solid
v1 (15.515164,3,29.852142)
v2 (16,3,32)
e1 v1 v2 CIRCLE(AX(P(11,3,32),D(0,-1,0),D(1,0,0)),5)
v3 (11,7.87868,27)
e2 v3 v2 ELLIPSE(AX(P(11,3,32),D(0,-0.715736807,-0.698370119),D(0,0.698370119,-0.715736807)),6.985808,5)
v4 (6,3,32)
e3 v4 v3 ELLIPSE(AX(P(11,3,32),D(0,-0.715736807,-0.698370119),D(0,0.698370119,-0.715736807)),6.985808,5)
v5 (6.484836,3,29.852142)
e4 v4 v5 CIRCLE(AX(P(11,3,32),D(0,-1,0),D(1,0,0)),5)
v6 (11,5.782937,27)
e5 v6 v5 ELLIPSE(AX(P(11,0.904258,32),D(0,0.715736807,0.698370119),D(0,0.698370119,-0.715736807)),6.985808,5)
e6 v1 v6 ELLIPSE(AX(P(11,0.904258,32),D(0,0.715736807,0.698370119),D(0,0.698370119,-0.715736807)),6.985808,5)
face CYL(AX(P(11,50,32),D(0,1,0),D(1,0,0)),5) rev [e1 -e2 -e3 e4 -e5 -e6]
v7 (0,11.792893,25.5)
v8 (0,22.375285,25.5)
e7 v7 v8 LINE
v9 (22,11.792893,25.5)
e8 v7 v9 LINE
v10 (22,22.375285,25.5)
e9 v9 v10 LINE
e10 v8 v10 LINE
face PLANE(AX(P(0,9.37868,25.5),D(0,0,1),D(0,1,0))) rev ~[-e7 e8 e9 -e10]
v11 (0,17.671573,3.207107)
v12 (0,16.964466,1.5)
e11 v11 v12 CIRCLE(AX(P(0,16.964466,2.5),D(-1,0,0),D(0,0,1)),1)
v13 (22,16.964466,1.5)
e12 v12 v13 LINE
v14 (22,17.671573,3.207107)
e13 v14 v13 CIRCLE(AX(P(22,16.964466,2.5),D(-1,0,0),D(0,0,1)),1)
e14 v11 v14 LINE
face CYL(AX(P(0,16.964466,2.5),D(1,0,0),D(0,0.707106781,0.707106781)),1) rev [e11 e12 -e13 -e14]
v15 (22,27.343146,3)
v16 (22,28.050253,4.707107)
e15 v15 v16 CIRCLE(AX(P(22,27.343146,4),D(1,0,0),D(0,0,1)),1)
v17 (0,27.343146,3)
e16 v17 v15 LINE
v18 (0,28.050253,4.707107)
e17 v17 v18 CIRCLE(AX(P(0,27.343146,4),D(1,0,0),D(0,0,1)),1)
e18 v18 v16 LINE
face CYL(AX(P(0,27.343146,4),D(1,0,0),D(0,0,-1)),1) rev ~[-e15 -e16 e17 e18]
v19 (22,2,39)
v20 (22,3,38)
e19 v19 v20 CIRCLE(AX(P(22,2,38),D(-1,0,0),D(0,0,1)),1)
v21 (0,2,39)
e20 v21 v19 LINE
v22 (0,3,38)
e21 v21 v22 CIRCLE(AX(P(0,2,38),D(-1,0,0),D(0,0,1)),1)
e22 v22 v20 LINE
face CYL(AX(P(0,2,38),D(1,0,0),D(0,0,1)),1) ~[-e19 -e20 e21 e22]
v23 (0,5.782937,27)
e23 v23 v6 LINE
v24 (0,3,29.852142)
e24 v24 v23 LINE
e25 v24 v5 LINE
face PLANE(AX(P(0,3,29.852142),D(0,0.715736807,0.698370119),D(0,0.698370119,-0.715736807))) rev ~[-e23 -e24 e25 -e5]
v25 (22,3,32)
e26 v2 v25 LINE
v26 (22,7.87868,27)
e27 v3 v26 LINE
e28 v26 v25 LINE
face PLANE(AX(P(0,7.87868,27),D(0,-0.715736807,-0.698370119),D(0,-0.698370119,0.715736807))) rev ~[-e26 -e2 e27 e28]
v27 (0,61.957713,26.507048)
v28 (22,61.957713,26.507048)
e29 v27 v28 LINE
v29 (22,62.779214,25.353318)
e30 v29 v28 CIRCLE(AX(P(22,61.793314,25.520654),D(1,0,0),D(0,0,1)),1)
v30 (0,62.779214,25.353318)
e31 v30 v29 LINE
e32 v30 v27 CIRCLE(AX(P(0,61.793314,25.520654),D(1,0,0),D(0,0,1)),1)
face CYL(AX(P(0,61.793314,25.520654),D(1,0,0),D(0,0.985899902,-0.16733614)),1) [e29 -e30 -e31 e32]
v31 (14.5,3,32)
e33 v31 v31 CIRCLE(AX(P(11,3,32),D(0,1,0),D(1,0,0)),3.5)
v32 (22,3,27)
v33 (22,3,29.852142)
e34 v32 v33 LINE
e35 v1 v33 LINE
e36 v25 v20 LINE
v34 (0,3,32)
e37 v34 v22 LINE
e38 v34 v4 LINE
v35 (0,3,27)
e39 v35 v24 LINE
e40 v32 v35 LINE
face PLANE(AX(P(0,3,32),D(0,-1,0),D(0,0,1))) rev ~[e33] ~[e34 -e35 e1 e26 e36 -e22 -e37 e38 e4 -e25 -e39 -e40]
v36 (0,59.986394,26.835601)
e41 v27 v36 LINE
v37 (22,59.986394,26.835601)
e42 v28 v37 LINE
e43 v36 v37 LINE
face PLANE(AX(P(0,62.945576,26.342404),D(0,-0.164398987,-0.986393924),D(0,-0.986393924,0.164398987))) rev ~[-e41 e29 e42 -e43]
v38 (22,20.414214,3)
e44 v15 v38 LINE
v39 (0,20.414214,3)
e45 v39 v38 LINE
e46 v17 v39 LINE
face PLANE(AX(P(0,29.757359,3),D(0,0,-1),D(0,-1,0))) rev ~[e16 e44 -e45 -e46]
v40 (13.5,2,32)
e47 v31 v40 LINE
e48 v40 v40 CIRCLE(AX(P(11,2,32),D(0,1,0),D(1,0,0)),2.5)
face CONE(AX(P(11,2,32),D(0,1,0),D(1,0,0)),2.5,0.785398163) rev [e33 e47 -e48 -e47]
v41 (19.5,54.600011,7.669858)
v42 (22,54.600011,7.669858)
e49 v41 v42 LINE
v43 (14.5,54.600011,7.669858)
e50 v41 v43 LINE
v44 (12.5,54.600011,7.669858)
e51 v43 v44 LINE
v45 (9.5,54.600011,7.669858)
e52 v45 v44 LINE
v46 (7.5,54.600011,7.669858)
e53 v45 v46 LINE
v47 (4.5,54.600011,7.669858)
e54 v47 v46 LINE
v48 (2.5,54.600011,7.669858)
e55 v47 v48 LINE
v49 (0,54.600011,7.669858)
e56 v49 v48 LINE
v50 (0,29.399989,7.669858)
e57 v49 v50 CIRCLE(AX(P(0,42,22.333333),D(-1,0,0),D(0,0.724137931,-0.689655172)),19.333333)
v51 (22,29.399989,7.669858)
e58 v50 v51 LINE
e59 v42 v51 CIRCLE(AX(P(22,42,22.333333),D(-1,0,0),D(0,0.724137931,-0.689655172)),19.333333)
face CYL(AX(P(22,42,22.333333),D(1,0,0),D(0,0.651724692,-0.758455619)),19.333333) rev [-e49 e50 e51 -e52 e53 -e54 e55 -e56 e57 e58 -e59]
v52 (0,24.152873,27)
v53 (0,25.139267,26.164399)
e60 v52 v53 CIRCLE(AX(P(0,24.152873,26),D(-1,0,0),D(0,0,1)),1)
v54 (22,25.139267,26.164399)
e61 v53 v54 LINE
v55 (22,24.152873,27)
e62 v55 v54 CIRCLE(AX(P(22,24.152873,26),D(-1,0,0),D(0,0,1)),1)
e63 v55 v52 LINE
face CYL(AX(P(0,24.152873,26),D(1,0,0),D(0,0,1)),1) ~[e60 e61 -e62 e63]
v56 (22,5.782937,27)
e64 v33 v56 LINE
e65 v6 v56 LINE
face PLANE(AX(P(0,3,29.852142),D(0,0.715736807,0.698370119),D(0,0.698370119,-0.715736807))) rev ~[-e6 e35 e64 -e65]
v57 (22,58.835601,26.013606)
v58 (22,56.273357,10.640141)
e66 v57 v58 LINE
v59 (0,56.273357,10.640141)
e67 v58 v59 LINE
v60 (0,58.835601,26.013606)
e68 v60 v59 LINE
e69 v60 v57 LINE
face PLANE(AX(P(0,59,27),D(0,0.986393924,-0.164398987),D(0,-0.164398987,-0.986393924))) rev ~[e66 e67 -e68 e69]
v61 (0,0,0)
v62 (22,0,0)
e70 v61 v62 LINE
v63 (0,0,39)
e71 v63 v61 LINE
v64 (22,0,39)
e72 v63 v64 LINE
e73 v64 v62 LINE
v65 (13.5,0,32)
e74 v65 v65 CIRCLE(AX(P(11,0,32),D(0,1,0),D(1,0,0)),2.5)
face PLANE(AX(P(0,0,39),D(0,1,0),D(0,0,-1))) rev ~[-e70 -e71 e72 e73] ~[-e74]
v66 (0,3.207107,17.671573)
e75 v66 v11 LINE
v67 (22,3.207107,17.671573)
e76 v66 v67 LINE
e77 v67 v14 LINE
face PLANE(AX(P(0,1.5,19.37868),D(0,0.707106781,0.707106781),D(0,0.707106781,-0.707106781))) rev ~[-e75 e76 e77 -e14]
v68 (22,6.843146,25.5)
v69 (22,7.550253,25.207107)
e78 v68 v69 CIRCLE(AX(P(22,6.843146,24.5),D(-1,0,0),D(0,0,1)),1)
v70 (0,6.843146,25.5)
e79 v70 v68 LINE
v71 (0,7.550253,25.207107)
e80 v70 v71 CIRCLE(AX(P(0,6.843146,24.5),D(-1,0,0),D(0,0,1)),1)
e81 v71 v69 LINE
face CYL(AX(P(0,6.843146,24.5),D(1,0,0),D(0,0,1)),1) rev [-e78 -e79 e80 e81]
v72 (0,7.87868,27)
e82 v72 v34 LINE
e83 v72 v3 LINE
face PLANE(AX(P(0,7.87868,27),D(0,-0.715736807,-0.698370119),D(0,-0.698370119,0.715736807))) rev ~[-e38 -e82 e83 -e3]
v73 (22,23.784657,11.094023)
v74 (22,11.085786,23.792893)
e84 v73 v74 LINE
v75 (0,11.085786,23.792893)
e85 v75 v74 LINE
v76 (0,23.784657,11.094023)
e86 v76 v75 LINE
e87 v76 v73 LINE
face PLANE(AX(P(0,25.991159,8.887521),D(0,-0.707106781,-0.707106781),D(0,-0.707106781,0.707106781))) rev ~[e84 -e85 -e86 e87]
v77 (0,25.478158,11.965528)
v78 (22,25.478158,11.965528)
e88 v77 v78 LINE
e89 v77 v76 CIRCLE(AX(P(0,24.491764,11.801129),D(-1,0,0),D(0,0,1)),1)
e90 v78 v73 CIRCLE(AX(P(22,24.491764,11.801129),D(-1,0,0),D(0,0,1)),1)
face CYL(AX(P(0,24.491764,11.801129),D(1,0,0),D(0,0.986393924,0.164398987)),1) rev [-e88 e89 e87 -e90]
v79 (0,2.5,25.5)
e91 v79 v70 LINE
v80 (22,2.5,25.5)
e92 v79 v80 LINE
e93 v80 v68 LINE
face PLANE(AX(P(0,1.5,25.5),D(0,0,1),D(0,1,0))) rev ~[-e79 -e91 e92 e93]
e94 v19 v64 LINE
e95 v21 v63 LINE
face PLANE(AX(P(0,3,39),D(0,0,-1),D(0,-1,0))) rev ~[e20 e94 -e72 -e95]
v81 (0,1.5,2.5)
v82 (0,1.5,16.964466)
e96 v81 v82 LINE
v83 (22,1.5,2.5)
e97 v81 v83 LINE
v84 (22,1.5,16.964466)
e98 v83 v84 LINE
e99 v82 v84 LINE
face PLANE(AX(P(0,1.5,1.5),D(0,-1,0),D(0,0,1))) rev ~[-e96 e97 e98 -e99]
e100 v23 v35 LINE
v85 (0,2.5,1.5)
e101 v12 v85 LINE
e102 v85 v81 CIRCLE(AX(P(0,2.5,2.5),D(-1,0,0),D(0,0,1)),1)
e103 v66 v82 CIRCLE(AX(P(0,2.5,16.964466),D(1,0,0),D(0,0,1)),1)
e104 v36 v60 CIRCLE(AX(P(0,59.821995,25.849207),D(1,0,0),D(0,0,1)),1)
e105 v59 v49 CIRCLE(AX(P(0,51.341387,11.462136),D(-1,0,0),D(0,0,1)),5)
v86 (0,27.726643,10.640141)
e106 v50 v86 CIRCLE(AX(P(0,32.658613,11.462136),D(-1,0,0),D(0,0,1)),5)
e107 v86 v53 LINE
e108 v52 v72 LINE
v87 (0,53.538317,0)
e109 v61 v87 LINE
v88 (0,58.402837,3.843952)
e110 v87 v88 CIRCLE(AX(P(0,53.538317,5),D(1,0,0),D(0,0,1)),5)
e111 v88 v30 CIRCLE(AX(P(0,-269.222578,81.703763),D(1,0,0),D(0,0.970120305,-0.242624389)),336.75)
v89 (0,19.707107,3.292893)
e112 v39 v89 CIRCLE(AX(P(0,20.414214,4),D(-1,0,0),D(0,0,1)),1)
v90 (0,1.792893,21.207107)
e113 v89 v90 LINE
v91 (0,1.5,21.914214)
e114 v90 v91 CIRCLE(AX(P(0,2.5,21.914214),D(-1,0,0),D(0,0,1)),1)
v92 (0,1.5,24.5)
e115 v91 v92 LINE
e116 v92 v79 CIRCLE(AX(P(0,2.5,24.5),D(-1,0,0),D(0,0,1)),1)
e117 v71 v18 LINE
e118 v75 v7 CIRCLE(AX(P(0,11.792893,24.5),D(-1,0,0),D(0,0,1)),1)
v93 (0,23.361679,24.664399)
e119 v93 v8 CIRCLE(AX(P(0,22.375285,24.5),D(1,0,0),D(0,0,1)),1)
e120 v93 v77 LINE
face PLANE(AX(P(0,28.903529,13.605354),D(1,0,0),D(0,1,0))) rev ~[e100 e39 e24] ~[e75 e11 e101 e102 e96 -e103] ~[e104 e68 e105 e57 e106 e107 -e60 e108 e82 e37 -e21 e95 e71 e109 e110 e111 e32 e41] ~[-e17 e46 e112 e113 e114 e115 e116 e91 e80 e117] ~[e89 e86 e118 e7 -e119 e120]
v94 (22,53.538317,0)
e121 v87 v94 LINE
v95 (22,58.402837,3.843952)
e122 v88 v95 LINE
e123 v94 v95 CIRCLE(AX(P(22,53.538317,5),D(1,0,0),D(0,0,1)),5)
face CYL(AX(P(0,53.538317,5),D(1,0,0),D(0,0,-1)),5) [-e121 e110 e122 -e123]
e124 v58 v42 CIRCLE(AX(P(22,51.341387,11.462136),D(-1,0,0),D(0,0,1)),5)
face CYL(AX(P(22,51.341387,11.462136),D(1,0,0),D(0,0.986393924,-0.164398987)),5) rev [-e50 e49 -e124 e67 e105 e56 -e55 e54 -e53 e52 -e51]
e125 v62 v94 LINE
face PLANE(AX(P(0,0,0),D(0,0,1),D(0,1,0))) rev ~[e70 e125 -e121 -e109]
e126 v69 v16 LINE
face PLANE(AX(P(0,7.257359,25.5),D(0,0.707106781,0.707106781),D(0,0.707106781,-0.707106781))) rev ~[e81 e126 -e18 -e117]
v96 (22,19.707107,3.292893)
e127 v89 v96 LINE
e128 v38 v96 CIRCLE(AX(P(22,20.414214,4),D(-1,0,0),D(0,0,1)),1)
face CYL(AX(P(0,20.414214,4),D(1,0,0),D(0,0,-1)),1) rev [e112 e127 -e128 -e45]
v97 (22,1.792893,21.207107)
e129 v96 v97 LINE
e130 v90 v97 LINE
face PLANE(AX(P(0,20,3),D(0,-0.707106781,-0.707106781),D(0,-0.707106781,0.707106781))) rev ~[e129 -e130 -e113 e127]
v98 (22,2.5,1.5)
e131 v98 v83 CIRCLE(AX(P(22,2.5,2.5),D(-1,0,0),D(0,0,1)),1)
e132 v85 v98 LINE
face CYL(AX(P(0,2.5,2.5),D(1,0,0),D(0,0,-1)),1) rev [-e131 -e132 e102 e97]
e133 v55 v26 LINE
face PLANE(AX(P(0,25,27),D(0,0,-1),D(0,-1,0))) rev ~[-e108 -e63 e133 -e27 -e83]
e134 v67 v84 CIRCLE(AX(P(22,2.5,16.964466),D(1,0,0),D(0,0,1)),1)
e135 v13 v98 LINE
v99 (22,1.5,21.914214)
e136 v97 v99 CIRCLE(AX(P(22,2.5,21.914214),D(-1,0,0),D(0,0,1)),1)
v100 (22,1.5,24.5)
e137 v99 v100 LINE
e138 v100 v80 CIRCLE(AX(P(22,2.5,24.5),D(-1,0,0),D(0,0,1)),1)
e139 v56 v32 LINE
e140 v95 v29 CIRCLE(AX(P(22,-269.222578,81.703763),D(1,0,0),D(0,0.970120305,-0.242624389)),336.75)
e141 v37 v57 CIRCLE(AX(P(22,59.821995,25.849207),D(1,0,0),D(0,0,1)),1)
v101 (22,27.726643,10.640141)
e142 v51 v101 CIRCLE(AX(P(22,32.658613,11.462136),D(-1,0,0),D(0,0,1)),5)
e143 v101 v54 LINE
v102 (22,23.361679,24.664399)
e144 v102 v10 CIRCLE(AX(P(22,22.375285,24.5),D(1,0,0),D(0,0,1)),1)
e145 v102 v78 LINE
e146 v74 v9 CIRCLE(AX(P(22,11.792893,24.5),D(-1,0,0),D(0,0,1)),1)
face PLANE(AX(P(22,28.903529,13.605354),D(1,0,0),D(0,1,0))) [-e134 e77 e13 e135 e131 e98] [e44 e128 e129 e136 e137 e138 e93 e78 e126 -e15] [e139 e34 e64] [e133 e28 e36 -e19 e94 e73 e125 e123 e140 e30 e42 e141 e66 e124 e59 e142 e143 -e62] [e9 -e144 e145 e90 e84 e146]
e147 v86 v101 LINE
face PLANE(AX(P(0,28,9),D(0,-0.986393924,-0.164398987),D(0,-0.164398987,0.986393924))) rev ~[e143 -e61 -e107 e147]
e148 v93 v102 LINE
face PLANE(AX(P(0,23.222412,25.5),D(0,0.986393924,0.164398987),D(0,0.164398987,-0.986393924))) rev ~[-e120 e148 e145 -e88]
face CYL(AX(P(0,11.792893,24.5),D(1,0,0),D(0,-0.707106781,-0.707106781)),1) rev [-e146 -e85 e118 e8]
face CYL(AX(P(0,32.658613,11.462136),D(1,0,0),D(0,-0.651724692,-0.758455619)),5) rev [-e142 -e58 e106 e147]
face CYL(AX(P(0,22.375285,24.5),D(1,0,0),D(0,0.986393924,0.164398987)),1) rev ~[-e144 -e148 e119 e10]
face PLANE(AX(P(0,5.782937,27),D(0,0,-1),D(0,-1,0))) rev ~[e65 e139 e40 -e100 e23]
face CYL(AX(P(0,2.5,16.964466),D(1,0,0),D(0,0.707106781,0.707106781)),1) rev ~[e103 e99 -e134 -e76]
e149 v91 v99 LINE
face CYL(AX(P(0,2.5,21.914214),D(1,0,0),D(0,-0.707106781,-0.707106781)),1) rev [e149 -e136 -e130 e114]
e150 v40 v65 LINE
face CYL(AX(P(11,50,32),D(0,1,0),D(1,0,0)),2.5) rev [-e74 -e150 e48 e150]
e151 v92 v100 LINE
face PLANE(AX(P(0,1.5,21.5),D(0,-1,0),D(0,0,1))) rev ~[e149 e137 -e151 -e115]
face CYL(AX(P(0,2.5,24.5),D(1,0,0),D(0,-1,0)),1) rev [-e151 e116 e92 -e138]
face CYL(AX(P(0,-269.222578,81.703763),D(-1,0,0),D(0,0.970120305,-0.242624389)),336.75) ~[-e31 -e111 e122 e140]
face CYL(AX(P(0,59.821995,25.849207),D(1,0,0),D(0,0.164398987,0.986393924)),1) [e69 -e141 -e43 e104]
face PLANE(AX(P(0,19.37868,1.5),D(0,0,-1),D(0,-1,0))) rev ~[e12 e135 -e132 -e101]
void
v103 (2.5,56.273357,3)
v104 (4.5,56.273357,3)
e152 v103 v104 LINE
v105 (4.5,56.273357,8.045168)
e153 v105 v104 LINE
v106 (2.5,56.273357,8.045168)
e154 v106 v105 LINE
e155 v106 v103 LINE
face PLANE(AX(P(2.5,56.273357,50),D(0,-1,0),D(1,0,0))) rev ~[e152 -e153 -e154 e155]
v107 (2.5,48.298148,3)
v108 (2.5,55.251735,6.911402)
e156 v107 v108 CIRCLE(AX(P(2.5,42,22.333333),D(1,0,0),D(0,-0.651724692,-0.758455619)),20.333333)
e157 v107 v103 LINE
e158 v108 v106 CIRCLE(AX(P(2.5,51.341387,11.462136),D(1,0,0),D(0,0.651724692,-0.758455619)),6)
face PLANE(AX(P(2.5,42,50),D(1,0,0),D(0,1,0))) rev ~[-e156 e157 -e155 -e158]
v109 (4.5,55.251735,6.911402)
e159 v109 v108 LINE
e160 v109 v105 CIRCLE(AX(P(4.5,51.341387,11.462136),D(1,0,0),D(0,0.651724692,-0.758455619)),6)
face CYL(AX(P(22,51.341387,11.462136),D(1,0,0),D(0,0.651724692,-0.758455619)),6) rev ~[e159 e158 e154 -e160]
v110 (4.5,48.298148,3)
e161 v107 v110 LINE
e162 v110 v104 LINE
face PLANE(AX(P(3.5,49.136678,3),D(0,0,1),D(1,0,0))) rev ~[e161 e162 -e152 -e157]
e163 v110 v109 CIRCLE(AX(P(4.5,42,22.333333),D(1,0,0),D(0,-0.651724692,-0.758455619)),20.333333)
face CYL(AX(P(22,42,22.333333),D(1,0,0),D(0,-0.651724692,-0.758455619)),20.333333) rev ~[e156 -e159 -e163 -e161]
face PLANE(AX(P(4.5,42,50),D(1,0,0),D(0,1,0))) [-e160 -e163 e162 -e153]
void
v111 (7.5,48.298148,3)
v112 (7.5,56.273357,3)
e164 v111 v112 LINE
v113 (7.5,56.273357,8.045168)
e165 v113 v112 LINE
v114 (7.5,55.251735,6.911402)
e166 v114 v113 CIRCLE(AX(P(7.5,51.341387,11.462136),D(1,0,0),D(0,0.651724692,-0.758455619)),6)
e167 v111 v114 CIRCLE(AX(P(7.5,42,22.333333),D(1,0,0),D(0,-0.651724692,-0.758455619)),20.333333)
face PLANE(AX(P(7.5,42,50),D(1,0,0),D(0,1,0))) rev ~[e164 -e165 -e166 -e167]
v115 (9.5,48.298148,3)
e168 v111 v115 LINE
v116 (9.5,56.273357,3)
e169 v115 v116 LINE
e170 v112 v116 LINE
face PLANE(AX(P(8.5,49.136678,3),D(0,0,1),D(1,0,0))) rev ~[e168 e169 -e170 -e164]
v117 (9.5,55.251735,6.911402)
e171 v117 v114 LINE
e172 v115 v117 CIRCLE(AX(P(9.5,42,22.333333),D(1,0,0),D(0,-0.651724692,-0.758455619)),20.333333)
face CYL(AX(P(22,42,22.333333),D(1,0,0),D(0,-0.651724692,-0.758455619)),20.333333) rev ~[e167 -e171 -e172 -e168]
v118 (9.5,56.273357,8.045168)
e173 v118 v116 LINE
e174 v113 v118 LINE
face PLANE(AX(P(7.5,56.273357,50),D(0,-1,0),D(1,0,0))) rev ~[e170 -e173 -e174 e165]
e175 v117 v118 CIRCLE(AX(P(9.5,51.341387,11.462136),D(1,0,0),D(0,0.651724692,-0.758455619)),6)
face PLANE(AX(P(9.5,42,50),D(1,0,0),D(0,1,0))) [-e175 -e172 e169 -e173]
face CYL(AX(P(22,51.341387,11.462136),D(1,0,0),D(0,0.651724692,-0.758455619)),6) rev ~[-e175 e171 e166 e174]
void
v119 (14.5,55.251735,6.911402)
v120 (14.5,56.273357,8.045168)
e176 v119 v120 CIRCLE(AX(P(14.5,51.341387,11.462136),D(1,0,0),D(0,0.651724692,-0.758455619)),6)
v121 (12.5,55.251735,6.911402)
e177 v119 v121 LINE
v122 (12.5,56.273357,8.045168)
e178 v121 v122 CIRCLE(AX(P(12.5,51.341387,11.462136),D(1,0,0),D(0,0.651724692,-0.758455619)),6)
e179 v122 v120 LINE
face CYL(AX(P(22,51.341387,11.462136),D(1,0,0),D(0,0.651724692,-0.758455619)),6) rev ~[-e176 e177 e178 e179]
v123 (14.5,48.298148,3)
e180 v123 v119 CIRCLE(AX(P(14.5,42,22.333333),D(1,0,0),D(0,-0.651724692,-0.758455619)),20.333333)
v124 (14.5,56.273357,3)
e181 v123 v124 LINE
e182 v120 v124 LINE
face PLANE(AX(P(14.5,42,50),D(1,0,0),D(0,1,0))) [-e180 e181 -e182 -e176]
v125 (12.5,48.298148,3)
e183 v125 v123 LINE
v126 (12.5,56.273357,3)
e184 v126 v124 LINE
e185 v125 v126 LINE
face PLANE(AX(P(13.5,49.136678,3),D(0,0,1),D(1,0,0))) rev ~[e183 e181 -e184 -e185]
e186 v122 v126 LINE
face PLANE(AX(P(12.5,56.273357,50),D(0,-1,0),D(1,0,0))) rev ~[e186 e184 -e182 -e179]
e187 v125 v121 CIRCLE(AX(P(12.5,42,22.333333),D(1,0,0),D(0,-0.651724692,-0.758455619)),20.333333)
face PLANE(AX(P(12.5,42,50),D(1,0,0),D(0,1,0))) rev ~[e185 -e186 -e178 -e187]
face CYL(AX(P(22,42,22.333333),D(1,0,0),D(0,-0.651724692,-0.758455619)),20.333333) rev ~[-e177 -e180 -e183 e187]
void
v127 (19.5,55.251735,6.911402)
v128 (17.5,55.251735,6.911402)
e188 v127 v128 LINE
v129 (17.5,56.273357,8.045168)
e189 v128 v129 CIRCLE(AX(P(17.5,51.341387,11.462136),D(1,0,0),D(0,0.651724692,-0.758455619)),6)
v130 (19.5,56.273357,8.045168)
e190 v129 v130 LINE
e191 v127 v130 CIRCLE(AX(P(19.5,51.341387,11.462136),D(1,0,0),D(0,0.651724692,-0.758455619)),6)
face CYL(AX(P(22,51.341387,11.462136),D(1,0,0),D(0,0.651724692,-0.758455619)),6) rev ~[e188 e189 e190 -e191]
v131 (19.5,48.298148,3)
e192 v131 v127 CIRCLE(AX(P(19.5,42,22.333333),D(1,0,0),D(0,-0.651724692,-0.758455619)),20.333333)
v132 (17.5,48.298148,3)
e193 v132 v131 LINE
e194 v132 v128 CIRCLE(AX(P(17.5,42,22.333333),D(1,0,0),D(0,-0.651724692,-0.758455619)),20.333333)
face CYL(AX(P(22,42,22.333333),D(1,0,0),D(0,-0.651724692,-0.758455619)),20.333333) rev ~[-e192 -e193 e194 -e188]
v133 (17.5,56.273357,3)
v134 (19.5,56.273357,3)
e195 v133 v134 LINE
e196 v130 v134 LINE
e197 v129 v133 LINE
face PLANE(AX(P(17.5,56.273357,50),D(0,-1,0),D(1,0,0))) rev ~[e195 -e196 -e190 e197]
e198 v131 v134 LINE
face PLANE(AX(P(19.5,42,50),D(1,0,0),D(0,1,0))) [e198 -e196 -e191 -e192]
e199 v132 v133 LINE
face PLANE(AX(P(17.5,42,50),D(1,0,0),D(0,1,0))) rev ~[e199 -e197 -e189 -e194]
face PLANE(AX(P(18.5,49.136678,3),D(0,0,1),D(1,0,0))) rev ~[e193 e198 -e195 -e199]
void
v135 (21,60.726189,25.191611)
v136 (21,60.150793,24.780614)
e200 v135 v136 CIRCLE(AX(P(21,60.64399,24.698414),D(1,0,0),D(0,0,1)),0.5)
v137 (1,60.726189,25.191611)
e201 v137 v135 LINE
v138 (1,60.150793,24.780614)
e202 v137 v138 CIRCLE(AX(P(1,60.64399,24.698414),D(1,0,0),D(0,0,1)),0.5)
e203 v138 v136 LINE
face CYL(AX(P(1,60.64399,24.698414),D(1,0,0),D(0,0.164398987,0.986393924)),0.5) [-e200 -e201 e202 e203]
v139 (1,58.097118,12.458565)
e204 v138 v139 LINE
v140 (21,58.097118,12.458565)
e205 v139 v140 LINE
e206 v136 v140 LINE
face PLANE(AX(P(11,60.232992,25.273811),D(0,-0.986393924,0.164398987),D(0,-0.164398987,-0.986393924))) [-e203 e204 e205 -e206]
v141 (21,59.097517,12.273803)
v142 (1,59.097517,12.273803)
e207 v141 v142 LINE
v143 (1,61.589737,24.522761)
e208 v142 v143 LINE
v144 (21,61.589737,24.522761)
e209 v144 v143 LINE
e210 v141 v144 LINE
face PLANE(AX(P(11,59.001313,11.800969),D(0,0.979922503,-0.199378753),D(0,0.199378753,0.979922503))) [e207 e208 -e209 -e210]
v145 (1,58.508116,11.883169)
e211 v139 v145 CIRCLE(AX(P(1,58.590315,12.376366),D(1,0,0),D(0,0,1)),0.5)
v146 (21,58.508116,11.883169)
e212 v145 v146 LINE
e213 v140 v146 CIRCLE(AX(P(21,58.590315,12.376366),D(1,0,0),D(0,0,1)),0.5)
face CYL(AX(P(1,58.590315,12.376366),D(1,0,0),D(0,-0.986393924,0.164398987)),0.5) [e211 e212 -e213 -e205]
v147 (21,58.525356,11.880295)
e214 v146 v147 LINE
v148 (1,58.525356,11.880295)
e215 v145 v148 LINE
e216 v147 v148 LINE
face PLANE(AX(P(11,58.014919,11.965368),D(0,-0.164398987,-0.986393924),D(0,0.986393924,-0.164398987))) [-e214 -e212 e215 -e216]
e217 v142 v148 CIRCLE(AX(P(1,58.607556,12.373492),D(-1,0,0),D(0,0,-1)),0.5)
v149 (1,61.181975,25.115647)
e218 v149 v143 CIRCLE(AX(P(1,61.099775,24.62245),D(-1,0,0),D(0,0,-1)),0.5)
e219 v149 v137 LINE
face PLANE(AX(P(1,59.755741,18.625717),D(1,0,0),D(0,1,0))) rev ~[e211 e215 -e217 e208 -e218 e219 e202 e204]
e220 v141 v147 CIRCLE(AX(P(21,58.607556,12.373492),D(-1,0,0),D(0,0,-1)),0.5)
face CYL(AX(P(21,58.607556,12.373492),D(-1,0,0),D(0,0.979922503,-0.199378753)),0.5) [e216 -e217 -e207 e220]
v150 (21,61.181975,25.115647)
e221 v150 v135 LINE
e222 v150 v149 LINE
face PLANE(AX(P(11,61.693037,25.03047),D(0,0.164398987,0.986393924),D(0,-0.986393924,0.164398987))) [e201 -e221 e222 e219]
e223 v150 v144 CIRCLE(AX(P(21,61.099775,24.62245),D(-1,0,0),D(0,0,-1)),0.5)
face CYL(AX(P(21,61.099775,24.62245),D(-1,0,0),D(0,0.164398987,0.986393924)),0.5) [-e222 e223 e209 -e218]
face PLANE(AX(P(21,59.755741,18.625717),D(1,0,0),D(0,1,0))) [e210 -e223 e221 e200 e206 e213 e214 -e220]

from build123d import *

# Parameters (mm, degrees)
F1_DEPTH  = 22
F2_R      = 5
F3_R      = 1
F4_R      = 1
F6_R      = 5
F7_DEPTH  = 47
F8_R      = 2.5
F9_DEPTH  = 50.001
F10_SIZE  = 1
F12_W     = 2
F12_H     = 14.2733568645
F13_DEPTH = 47
F16_DEPTH = 10
F17_R     = 0.5
F19_DEPTH = 22


with BuildPart() as f1:
    # F0 (on Right) → F1 (new body)
    with BuildSketch(Plane.YZ):
        with BuildLine():
            Line((3, 32), (3, 39))
            Line((3, 39), (0, 39))
            Line((0, 39), (0, 0))
            Line((0, 0), (57.4654344921, 0))
            ThreePointArc((57.4654344921, 0), (60.4687056177, 13.1164471126), (62.9455756953, 26.3424040508))
            Line((62.9455756953, 26.3424040508), (59, 27))
            Line((59, 27), (56, 9))
            ThreePointArc((56, 9), (42, 3), (28, 9))
            Line((28, 9), (25, 27))
            Line((25, 27), (7.8786796564, 27))
            Line((7.8786796564, 27), (5.7829372183, 27))
            Line((5.7829372183, 27), (3, 27))
            Line((3, 27), (3, 29.8521417825))
            Line((3, 29.8521417825), (3, 32))
        make_face()
        Polygon((19.3786796564, 1.5), (1.5, 1.5), (1.5, 19.3786796564), align=None, mode=Mode.SUBTRACT)
        Polygon((20, 3), (1.5, 21.5), (1.5, 25.5), (7.2573593129, 25.5), (29.7573593129, 3), align=None, mode=Mode.SUBTRACT)
        Polygon((25.9911590566, 8.8875205998), (9.3786796564, 25.5), (23.2224124899, 25.5), align=None, mode=Mode.SUBTRACT)
        Polygon((7.8786796564, 27), (3, 32), (3, 29.8521417825), (5.7829372183, 27), align=None)
    extrude(amount=F1_DEPTH)

    # F2
    f2_edges = [f1.edges().sort_by_distance(p)[0] for p in [
        (11, 57.465434, 0),
        (11, 56, 9),
        (11, 28, 9),
    ]]
    fillet(f2_edges, radius=F2_R)

    # F3
    f3_edges = [f1.edges().sort_by_distance(p)[0] for p in [
        (11, 59, 27),
        (11, 62.945576, 26.342404),
        (11, 3, 39),
        (11, 25, 27),
        (11, 23.222412, 25.5),
    ]]
    fillet(f3_edges, radius=F3_R)

    # F4
    f4_edges = [f1.edges().sort_by_distance(p)[0] for p in [
        (11, 1.5, 1.5),
        (11, 19.37868, 1.5),
        (11, 20, 3),
        (11, 1.5, 21.5),
        (11, 1.5, 19.37868),
        (11, 7.257359, 25.5),
        (11, 9.37868, 25.5),
        (11, 29.757359, 3),
        (11, 1.5, 25.5),
        (11, 25.991159, 8.887521),
    ]]
    fillet(f4_edges, radius=F4_R)

    # F6 (on offset) → F7 (cut, through all)
    with BuildSketch(Plane.XZ.offset(-50)):
        with Locations((11, 32)):
            Circle(F6_R)
    extrude(amount=F7_DEPTH, mode=Mode.SUBTRACT)

    # F8 (on offset) → F9 (cut, through all)
    with BuildSketch(Plane.XZ.offset(-50)):
        with Locations((11, 32)):
            Circle(F8_R)
    extrude(amount=F9_DEPTH, mode=Mode.SUBTRACT)

    # F10
    f10_edges = [f1.edges().sort_by_distance(p)[0] for p in [
        (8.5, 3, 32),
    ]]
    chamfer(f10_edges, length=F10_SIZE)

    # F12 (on offset) → F13 (cut)
    with BuildSketch(Plane.XY.offset(50)):
        with Locations((3.5, 49.1366784322)):
            Rectangle(F12_W, F12_H)
        with Locations((8.5, 49.1366784322)):
            Rectangle(F12_W, F12_H)
        with Locations((13.5, 49.1366784322)):
            Rectangle(F12_W, F12_H)
        with Locations((18.5, 49.1366784322)):
            Rectangle(F12_W, F12_H)
    extrude(amount=-F13_DEPTH, mode=Mode.SUBTRACT)

    # F15 (on offset) → F16 (cut, symmetric)
    with BuildSketch(Plane.YZ.offset(11)):
        Polygon((61.6930370138, 25.0304698651), (60.2329924048, 25.2738106333), (58.0149187036, 11.9653684263), (59.0013126275, 11.800969439), align=None)
    extrude(amount=F16_DEPTH, both=True, mode=Mode.SUBTRACT)

    # F17
    f17_edges = [f1.edges().sort_by_distance(p)[0] for p in [
        (11, 59.001313, 11.800969),
        (11, 60.232992, 25.273811),
        (11, 61.693037, 25.03047),
        (11, 58.014919, 11.965368),
    ]]
    fillet(f17_edges, radius=F17_R)

    # F18 (on face) → F19 (join, through all)
    with BuildSketch(Plane.YZ.offset(22)):
        with BuildLine():
            ThreePointArc((54.600010703, 7.6698580269), (42, 3), (29.399989297, 7.6698580269))
            Line((29.399989297, 7.6698580269), (28.7482646674, 6.9114024796))
            ThreePointArc((28.7482646674, 6.9114024796), (42, 2.000000095), (55.2517353326, 6.9114024796))
            ThreePointArc((55.2517353326, 6.9114024796), (56.568912669, 8.5171443059), (57.2597506946, 10.4757422152))
            Line((57.2597506946, 10.4757422152), (56.2733568645, 10.6401411869))
            ThreePointArc((56.2733568645, 10.6401411869), (55.6976585007, 9.0079762366), (54.600010703, 7.6698580269))
        make_face()
    extrude(amount=-F19_DEPTH)


solid = f1.part
